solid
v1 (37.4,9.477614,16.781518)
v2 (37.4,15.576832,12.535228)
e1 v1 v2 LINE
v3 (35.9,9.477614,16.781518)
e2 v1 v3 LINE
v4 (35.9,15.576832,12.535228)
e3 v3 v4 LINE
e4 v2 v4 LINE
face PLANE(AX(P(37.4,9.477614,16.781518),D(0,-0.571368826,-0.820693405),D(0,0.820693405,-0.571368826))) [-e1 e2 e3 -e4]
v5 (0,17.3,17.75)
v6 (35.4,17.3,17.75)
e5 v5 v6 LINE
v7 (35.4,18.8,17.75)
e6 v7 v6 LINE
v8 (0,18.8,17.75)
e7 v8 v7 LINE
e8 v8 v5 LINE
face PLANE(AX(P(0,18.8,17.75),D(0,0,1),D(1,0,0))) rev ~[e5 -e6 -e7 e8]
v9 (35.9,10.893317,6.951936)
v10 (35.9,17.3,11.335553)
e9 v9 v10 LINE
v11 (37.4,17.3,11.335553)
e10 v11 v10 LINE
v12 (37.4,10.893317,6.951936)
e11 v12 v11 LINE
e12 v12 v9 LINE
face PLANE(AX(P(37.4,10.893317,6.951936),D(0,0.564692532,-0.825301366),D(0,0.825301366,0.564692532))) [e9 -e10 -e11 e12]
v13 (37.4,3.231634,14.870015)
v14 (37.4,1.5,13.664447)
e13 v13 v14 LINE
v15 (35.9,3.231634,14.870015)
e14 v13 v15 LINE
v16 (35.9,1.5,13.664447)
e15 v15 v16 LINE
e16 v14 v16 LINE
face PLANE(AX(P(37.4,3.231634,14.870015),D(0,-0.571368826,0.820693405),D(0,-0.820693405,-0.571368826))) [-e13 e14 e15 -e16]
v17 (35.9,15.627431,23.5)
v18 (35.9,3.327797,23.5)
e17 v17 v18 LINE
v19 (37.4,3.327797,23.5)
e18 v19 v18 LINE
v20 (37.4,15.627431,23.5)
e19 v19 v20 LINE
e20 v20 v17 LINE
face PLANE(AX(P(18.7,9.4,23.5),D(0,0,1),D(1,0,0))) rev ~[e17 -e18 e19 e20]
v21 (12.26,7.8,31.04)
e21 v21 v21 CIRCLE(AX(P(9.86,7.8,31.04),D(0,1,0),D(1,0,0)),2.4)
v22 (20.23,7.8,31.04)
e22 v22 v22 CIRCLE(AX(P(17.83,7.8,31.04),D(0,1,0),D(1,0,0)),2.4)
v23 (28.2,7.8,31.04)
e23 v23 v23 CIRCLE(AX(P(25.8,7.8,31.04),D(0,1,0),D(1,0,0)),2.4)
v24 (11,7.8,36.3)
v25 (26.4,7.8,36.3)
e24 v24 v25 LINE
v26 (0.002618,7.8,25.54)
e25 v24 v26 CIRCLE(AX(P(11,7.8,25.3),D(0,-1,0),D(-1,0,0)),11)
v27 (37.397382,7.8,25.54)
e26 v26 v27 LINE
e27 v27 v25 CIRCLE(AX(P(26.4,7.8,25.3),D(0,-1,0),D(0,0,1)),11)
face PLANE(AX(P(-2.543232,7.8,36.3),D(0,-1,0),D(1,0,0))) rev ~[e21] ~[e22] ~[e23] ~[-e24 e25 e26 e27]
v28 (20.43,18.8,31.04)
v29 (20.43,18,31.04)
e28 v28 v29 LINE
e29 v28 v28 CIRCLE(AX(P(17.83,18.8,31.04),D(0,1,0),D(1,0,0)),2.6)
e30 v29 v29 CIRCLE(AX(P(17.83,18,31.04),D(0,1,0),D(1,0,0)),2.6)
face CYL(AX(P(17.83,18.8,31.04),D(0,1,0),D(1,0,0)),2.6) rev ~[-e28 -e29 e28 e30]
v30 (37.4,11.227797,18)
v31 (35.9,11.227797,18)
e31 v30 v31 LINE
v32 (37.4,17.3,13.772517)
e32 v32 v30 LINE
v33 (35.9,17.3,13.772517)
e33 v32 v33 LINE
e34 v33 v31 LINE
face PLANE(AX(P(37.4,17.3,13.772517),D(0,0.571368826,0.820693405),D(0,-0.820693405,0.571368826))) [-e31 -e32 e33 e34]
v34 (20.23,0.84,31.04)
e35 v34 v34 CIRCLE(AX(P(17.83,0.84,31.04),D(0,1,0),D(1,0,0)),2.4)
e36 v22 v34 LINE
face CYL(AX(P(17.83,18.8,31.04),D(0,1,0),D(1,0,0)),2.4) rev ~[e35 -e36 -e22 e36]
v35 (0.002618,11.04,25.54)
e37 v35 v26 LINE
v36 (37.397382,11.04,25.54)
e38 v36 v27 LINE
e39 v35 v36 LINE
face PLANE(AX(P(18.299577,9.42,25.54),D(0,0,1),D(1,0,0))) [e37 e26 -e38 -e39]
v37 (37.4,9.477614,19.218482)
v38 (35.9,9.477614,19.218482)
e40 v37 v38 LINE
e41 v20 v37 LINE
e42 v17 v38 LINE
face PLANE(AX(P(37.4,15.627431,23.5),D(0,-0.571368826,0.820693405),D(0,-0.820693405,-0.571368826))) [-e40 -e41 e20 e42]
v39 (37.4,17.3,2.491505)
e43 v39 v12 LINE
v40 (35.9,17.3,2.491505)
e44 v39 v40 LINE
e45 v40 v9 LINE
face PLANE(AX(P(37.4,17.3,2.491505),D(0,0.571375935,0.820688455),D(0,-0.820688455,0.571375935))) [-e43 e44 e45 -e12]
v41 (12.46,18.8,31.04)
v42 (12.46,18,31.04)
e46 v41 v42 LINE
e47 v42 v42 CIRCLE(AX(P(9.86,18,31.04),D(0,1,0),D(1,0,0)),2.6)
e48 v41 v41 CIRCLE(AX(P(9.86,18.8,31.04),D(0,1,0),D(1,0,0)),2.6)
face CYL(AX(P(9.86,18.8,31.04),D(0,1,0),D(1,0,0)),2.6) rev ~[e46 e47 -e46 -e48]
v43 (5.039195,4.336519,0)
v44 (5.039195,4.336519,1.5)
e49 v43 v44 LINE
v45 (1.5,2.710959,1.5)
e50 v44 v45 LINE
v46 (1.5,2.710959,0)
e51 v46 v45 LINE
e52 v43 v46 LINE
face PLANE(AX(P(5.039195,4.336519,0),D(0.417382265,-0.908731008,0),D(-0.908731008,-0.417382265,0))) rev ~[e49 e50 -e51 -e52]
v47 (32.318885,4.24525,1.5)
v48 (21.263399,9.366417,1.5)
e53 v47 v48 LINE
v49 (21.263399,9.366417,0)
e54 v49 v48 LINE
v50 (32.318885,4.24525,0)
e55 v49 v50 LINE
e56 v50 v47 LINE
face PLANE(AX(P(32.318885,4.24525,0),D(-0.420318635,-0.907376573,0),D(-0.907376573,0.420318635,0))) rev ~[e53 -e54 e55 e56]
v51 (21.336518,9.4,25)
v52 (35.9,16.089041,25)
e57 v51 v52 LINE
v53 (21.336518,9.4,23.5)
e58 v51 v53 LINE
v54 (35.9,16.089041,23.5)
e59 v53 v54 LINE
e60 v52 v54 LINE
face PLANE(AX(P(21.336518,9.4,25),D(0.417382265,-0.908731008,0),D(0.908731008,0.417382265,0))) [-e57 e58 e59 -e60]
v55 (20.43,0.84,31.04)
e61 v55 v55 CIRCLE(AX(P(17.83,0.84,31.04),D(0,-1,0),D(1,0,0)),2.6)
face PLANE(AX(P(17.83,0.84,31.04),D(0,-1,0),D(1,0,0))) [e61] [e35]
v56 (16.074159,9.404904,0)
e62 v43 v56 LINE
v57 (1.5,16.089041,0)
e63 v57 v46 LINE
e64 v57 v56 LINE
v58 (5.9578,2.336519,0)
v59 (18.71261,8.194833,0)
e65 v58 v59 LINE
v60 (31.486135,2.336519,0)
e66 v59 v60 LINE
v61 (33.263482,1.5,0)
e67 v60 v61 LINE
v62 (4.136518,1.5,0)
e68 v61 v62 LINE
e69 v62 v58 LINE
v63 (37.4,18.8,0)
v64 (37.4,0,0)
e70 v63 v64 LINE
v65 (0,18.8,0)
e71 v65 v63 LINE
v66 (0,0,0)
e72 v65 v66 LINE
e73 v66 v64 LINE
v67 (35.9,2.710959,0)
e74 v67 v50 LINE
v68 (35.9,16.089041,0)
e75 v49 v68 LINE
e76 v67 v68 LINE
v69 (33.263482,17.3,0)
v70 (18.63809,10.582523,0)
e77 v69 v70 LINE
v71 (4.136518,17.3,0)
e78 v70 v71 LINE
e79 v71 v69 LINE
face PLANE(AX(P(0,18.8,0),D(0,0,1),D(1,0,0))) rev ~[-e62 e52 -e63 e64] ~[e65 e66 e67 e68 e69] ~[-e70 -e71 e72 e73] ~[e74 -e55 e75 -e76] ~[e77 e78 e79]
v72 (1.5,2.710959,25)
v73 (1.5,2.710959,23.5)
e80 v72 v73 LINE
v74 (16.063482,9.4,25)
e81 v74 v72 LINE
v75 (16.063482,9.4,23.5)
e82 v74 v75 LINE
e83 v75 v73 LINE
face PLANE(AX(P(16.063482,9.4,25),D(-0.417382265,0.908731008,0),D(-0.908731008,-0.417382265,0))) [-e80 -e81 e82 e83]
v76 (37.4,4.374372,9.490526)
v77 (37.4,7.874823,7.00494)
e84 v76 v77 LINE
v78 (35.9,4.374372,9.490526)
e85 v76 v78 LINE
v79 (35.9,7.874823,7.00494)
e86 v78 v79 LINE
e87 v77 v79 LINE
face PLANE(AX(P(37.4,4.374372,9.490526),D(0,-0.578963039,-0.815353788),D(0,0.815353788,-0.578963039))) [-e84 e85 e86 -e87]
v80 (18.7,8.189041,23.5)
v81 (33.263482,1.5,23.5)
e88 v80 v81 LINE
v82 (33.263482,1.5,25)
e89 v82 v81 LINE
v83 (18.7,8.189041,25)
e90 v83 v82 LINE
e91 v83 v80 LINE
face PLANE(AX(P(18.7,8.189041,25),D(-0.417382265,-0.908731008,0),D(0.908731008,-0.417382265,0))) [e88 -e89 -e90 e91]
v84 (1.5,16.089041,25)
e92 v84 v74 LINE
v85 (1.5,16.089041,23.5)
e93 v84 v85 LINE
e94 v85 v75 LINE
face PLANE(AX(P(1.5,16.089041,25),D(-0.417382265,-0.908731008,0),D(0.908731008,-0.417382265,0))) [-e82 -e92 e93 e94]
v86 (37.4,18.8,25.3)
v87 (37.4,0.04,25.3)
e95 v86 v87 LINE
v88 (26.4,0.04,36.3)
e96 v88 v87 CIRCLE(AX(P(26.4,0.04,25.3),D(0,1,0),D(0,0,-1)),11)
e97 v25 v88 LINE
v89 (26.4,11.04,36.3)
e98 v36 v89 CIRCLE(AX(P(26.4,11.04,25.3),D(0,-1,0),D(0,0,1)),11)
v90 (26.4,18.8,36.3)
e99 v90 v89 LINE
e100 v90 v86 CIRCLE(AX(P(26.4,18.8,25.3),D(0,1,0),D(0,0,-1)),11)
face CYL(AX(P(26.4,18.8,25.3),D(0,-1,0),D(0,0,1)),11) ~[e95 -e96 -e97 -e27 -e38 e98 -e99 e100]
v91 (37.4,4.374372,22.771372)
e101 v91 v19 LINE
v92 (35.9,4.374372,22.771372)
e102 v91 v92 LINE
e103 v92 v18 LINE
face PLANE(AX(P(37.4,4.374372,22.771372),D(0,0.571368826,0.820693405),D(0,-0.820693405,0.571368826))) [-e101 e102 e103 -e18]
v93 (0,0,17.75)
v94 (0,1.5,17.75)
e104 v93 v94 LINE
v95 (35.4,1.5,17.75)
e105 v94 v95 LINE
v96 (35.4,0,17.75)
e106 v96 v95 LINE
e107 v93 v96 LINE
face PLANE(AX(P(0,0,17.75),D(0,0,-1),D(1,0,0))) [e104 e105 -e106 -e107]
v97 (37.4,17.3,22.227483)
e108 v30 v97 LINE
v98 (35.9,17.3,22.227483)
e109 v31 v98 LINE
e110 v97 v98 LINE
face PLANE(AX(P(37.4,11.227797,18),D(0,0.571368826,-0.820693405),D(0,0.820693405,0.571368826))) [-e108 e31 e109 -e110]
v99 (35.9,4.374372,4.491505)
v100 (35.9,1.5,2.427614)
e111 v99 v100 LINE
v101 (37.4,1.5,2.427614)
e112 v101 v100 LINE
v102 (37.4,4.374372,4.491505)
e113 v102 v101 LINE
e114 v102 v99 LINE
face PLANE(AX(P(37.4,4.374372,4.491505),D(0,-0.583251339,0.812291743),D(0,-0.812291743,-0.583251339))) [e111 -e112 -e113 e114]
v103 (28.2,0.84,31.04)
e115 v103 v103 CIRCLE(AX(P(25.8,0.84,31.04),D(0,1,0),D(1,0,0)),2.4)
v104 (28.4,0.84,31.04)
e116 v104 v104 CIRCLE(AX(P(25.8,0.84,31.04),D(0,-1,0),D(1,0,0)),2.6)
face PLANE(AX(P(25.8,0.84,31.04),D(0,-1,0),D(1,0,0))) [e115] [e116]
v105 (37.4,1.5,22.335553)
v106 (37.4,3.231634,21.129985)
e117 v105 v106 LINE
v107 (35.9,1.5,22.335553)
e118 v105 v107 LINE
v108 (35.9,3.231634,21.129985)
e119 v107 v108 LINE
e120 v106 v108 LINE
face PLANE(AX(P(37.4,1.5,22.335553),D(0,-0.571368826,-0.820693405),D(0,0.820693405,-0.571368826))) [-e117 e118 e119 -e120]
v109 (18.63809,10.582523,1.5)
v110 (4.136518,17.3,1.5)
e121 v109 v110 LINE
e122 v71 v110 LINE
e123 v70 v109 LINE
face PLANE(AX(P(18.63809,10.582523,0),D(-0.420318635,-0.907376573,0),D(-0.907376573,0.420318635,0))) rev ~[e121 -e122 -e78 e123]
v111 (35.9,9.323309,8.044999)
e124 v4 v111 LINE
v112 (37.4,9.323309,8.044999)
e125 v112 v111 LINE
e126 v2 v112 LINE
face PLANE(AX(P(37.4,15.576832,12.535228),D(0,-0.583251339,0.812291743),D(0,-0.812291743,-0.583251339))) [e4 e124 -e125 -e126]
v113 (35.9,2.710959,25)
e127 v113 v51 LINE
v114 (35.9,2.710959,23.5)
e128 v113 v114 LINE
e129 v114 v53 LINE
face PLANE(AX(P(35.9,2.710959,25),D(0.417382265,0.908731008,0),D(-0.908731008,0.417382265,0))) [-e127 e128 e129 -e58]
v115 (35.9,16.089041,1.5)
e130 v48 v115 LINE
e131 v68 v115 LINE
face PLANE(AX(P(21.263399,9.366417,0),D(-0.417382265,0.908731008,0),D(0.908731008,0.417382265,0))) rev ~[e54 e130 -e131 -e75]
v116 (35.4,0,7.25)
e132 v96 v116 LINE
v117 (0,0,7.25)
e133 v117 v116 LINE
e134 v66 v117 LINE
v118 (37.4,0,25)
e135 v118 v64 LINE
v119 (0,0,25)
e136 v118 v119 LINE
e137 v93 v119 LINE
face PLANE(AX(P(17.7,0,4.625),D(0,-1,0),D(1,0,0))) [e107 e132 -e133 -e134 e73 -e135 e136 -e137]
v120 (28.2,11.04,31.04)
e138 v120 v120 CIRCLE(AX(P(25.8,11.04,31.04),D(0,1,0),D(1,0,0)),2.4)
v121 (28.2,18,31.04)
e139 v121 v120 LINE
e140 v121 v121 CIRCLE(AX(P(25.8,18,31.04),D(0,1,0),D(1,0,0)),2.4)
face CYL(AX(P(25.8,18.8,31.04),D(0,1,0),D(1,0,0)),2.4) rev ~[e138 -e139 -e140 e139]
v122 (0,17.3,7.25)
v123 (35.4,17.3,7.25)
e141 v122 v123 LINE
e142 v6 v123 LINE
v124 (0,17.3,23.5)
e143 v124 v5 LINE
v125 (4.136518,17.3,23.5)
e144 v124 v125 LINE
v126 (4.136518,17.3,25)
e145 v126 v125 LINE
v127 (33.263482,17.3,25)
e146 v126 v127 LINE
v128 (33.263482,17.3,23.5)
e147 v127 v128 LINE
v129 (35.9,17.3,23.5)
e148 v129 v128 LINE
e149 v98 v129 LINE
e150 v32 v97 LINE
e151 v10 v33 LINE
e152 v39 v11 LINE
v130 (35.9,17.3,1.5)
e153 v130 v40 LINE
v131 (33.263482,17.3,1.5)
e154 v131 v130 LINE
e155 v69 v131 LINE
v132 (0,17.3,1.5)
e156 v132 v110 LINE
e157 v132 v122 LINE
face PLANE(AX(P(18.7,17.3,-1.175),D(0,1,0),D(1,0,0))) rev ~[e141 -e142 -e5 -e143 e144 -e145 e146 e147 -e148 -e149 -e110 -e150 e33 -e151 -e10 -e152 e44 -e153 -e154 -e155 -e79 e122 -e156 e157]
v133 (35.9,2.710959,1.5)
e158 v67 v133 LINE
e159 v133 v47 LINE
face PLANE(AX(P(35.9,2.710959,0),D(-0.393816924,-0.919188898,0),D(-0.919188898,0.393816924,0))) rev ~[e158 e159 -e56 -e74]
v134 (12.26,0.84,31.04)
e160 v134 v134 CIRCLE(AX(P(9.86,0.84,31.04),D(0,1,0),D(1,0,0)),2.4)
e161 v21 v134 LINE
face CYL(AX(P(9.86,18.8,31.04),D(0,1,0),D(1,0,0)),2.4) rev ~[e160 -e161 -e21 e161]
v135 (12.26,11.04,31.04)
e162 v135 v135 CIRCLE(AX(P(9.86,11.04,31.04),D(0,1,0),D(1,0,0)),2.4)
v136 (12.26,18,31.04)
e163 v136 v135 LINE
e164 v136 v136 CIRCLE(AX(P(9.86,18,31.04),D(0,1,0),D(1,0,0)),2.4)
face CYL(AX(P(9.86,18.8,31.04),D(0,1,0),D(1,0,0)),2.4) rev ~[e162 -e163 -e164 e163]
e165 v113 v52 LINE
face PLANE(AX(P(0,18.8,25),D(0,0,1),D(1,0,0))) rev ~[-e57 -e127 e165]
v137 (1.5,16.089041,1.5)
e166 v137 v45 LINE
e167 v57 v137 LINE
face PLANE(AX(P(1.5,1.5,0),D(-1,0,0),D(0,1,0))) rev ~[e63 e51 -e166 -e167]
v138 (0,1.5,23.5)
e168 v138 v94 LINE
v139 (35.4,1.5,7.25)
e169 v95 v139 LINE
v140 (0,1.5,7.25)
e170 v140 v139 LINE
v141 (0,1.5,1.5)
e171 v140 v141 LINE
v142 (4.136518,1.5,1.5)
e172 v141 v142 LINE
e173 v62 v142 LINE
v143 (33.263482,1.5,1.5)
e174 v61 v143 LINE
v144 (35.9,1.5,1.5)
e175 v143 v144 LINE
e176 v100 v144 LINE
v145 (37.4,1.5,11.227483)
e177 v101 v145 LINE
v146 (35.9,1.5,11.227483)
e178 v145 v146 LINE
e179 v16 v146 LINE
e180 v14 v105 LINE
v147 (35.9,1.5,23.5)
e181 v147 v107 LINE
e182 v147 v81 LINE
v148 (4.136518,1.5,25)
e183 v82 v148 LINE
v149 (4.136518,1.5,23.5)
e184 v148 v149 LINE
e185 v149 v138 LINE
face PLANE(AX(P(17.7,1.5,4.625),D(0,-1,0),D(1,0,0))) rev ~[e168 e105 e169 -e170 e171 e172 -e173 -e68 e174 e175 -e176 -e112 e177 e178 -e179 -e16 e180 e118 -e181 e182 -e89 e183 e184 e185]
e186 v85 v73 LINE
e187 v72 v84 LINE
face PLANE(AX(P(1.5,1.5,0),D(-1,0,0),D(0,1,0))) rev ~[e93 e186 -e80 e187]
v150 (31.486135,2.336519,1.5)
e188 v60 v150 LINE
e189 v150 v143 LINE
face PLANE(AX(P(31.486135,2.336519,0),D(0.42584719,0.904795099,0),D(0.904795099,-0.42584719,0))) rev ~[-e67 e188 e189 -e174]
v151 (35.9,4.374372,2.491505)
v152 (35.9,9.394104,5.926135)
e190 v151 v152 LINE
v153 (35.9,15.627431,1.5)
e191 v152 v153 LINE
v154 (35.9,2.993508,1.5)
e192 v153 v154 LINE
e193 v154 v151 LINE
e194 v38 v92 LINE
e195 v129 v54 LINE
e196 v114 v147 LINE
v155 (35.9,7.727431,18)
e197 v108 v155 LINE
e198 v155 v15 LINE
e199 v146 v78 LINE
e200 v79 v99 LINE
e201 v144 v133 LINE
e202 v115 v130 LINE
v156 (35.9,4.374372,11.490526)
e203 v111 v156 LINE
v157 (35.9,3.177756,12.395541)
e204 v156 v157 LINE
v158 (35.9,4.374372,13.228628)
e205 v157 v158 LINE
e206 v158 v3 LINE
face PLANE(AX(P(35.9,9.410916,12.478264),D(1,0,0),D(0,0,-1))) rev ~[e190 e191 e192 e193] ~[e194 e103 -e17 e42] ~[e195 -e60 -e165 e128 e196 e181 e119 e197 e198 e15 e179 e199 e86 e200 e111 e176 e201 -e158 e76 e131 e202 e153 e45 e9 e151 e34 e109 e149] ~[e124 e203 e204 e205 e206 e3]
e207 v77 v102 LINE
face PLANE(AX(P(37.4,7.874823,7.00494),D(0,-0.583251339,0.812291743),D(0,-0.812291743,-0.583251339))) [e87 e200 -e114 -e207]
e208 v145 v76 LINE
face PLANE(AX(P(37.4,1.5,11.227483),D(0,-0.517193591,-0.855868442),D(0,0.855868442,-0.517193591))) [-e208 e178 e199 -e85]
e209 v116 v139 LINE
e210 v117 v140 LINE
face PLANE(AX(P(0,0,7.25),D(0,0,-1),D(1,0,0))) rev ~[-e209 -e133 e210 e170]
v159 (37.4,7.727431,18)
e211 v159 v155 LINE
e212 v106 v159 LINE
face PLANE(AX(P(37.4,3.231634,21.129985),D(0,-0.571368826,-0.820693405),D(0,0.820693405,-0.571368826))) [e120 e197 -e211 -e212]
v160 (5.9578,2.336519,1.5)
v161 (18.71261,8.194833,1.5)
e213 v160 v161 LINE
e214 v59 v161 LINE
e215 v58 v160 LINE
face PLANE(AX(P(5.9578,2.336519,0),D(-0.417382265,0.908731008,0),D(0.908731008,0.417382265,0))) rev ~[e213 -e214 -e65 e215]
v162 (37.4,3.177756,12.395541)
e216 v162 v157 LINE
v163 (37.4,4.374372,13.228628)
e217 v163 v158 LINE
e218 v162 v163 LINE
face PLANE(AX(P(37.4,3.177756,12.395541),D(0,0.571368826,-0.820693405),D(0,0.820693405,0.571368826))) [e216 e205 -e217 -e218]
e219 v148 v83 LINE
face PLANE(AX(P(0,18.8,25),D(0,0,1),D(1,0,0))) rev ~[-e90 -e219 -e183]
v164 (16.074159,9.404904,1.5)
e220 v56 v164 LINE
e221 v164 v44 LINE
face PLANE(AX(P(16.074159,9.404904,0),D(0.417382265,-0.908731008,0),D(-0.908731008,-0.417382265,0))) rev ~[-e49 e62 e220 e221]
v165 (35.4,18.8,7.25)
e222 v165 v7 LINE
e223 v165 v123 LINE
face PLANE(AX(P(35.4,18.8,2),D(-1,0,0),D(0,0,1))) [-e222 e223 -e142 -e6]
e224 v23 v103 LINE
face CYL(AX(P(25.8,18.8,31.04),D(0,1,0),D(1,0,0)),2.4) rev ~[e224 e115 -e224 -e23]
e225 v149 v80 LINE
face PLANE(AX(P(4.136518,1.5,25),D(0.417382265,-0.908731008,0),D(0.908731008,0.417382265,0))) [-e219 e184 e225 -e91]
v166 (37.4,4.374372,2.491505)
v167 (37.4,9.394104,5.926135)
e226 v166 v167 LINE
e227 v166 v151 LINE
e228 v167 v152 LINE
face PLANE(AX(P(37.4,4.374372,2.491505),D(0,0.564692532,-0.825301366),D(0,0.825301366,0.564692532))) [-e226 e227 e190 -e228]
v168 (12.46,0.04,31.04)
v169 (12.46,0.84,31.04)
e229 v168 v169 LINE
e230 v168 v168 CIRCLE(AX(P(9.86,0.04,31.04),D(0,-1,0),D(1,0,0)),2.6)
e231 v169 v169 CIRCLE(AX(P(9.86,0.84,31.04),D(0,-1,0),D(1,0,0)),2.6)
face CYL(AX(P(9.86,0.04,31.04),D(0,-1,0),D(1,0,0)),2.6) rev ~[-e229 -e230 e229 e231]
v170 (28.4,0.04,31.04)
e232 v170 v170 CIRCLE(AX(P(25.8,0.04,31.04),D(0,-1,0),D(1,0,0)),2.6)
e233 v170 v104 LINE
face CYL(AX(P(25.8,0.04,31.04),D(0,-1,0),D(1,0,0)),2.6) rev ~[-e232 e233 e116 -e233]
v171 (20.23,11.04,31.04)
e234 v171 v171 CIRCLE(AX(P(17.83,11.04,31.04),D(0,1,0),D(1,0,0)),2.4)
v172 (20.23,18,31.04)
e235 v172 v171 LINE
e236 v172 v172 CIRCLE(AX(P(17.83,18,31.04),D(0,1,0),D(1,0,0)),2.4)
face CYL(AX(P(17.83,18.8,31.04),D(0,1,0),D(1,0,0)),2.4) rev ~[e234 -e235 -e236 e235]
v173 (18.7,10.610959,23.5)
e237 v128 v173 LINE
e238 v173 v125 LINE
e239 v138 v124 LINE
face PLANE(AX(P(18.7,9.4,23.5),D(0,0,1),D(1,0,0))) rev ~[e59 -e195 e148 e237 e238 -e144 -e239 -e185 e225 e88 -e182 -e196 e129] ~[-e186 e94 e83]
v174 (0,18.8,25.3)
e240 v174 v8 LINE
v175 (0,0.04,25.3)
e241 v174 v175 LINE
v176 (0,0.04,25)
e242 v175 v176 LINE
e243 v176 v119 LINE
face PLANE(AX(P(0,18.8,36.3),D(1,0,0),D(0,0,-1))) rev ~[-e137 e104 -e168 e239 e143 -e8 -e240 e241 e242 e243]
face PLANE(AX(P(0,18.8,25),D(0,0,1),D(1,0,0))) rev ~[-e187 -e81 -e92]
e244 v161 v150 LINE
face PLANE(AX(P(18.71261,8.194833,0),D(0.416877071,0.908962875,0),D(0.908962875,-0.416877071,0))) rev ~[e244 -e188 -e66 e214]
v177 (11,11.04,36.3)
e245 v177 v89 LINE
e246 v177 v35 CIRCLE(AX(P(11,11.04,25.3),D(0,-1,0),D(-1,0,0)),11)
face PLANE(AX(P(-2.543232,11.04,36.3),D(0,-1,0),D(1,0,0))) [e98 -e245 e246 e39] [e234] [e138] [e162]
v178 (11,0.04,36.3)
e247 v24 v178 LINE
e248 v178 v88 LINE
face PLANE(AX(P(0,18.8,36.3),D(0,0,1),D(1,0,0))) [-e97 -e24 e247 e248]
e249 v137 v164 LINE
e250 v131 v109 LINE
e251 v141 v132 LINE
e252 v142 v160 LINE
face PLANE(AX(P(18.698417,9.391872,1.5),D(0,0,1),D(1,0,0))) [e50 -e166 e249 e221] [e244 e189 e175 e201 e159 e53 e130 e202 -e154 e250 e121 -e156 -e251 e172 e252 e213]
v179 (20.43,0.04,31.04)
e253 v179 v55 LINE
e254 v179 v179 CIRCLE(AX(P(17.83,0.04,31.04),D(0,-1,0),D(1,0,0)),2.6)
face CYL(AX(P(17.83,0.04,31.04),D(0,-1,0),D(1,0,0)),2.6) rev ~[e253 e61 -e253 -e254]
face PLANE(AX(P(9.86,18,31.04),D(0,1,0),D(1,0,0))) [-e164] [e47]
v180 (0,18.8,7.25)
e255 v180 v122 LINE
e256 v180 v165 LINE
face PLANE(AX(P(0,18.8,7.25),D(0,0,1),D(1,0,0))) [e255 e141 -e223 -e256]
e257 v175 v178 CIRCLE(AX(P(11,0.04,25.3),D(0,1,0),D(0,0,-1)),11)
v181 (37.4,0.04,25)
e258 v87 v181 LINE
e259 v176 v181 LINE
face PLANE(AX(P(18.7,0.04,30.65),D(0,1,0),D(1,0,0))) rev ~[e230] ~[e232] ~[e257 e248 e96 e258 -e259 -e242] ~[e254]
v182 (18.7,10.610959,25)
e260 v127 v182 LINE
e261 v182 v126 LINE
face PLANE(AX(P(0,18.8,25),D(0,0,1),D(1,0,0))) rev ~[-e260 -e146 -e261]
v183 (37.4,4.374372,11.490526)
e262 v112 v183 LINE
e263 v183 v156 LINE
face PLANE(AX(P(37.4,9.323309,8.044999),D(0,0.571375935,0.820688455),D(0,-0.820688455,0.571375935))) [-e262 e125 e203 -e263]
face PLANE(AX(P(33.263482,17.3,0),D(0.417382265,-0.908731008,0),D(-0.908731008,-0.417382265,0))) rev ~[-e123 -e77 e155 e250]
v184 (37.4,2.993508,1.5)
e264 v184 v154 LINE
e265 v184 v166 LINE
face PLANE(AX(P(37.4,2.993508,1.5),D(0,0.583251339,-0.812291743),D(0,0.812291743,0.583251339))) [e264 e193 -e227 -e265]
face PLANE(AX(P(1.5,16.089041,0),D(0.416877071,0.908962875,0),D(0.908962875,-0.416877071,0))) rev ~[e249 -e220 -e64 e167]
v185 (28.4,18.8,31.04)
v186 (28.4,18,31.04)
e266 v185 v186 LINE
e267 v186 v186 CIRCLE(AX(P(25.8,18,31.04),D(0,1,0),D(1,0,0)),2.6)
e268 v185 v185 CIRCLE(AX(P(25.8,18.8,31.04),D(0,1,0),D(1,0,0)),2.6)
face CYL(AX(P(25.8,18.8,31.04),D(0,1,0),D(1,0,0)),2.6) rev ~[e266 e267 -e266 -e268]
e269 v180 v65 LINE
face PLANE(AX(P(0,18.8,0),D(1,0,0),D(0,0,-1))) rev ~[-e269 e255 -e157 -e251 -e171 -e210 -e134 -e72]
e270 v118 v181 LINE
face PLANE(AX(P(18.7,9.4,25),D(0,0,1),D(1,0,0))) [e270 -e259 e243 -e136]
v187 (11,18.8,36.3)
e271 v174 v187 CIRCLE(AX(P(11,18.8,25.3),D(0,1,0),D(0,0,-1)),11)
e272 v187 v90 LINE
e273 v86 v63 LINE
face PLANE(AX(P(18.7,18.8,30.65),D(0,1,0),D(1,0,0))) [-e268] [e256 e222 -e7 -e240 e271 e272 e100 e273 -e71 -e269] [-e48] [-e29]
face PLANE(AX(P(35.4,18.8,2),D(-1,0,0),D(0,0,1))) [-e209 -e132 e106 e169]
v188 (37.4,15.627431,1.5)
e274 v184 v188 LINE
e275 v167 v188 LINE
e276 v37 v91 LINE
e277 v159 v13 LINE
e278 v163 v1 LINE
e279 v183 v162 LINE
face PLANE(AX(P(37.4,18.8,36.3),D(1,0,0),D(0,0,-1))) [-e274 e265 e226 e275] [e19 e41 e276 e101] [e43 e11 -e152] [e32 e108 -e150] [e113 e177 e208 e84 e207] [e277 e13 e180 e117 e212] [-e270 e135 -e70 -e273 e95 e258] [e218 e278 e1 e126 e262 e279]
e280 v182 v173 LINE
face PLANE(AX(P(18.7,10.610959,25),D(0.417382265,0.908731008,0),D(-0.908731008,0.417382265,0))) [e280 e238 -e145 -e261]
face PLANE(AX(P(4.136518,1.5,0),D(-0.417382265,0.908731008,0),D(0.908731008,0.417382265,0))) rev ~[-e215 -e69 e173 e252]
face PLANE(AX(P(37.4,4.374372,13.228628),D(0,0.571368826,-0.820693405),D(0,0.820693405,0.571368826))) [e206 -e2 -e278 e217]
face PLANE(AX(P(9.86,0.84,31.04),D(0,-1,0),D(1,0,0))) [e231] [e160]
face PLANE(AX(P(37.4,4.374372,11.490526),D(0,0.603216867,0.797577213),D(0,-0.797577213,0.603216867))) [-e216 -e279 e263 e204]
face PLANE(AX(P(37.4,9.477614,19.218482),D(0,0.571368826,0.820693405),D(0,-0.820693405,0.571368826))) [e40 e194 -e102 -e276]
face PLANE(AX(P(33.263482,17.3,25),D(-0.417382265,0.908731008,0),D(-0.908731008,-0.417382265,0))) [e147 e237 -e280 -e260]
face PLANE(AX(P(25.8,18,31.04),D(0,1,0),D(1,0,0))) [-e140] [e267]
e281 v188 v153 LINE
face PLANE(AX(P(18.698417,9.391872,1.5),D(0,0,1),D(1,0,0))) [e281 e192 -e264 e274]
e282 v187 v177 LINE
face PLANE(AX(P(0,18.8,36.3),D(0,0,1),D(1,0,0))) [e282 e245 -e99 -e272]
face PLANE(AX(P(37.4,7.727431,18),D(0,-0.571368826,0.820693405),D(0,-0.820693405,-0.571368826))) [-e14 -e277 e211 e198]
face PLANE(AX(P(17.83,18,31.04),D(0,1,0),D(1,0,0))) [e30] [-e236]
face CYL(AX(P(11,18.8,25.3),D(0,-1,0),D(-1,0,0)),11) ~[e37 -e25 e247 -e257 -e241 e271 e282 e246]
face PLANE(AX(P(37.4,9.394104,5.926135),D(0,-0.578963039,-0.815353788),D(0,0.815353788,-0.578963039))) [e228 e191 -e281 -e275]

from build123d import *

# Parameters (mm, degrees)
SKETCH1_W            = 37.4
SKETCH1_H            = 18.8
BOSS_EXTRUDE1_DEPTH  = 2
SKETCH2_W            = 33.4
SKETCH2_H            = 15.8
BOSS_EXTRUDE2_DEPTH  = 23
SKETCH4_W            = 22
SKETCH4_H            = 15.8
CUT_EXTRUDE3_DEPTH   = 5550
SKETCH6_W            = 34.4
SKETCH6_H            = 15.8
CUT_EXTRUDE4_DEPTH   = 5550
CUT_EXTRUDE5_DEPTH   = 5550
BOSS_EXTRUDE3_DEPTH  = 1.5
BOSS_EXTRUDE4_DEPTH  = 1.5
BOSS_EXTRUDE5_DEPTH  = 1.5
SKETCH11_W           = 35.4
SKETCH11_H           = 5.25
BOSS_EXTRUDE6_DEPTH  = 1.5
SKETCH12_W           = 35.4
SKETCH12_H           = 7.25
BOSS_EXTRUDE7_DEPTH  = 1.5
SKETCH13_W           = 35.4
SKETCH13_H           = 5.25
BOSS_EXTRUDE8_DEPTH  = 1.5
SKETCH14_W           = 35.4
SKETCH14_H           = 5.25
BOSS_EXTRUDE9_DEPTH  = 1.5
SKETCH15_W           = 37.4
SKETCH15_H           = 2.35
BOSS_EXTRUDE10_DEPTH = 1.5
SKETCH16_W           = 37.4
SKETCH16_H           = 2.35
CUT_EXTRUDE6_DEPTH   = 10
SKETCH17_W           = 37.4
SKETCH17_H           = 11.3
SKETCH17_R           = 2.4
BOSS_EXTRUDE11_DEPTH = 18.76
FILLET2_R            = 11
FILLET3_R            = 11
SKETCH21_W           = 41.68561835
SKETCH21_H           = 3.24
CUT_EXTRUDE7_DEPTH   = 10.76
SKETCH22_R           = 2.6
CUT_EXTRUDE8_DEPTH   = 0.8
SKETCH23_R           = 2.6
CUT_EXTRUDE9_DEPTH   = 0.8


with BuildPart() as part:
    # Sketch1 → Boss-Extrude1 (new body)
    with BuildSketch(Plane.XY):
        with Locations((18.7, 9.4)):
            Rectangle(SKETCH1_W, SKETCH1_H)
    extrude(amount=BOSS_EXTRUDE1_DEPTH)

    # Sketch2 → Boss-Extrude2 (add)
    with BuildSketch(Plane.XY.offset(2)):
        Polygon((0, 18.8), (37.4, 18.8), (37.4, 17.3), (37.4, 0), (0, 0), (0, 16.8), align=None)
        with Locations((18.7, 9.4)):
            Rectangle(SKETCH2_W, SKETCH2_H, mode=Mode.SUBTRACT)
    extrude(amount=BOSS_EXTRUDE2_DEPTH)

    # Sketch4 → Cut-Extrude3 (cut)
    with BuildSketch(Plane.ZY):
        with Locations((12.5, 9.4)):
            Rectangle(SKETCH4_W, SKETCH4_H)
    extrude(amount=-CUT_EXTRUDE3_DEPTH, mode=Mode.SUBTRACT)

    # Sketch6 → Cut-Extrude4 (cut)
    with BuildSketch(Plane(origin=(0, 0, 0), x_dir=(-1, 0, 0), z_dir=(0, 0, -1))):
        with Locations((-18.7, 9.4)):
            Rectangle(SKETCH6_W, SKETCH6_H)
    extrude(amount=-CUT_EXTRUDE4_DEPTH, mode=Mode.SUBTRACT)

    # Sketch7 → Cut-Extrude5 (cut)
    with BuildSketch(Plane(origin=(0, 18.8, 0), x_dir=(1, 0, 0), z_dir=(0, 1, 0))):
        Polygon((1.635040334, -2), (35.4, -2), (35.4, -23), (1.635040334, -23), (0, -23), (0, -2), align=None)
    extrude(amount=-CUT_EXTRUDE5_DEPTH, mode=Mode.SUBTRACT)

    # Sketch8 → Boss-Extrude3 (add)
    with BuildSketch(Plane(origin=(0, 0, 0), x_dir=(-1, 0, 0), z_dir=(0, 0, -1))):
        Polygon((-35.9, 16.089041374), (-35.9, 17.3), (-33.263482485, 17.3), (-18.638089895, 10.582523171), (-4.136517515, 17.3), (-1.5, 17.3), (-1.5, 16.089041374), (-16.074159281, 9.404903878), (-5.039195107, 4.33651917), (-1.5, 2.710958626), (-1.5, 1.5), (-4.136517515, 1.5), (-5.957799758, 2.33651917), (-18.712609683, 8.194833031), (-31.486134971, 2.33651917), (-33.263482485, 1.5), (-35.9, 1.5), (-35.9, 2.710958626), (-32.318884833, 4.245250178), (-21.26339944, 9.366416698), align=None)
    extrude(amount=-BOSS_EXTRUDE3_DEPTH)

    # Sketch9 → Boss-Extrude4 (add)
    with BuildSketch(Plane.XY.offset(25)):
        Polygon((21.336517515, 9.4), (35.9, 16.089041374), (35.9, 17.3), (33.263482485, 17.3), (18.7, 10.610958626), (4.136517515, 17.3), (1.5, 17.3), (1.5, 16.089041374), (16.063482485, 9.4), (1.5, 2.710958626), (1.5, 1.5), (4.136517515, 1.5), (18.7, 8.189041374), (33.263482485, 1.5), (35.9, 1.5), (35.9, 2.710958626), align=None)
    extrude(amount=-BOSS_EXTRUDE4_DEPTH)

    # Sketch10 → Boss-Extrude5 (add)
    with BuildSketch(Plane(origin=(37.4, 0, 0), x_dir=(0, 0, -1), z_dir=(1, 0, 0))):
        Polygon((-23.5, 17.3), (-23.5, 15.627431355), (-19.218481828, 9.477614344), (-22.771372102, 4.374371951), (-23.5, 3.327797334), (-23.5, 1.5), (-22.335553475, 1.5), (-21.129985293, 3.231634299), (-18, 7.727431355), (-14.870014707, 3.231634299), (-13.664446525, 1.5), (-12.445964697, 1.5), (-11.227482869, 1.5), (-9.490525788, 4.374371951), (-7.004939959, 7.874823075), (-4.491504582, 4.374371951), (-2.427613988, 1.5), (-1.5, 1.5), (-1.5, 2.993507593), (-2.491504582, 4.374371951), (-5.926135142, 9.394104162), (-1.5, 15.627431355), (-1.5, 17.3), (-2.491504582, 17.3), (-6.951935611, 10.893317416), (-11.335553475, 17.3), (-13.772517131, 17.3), (-18, 11.227797334), (-22.227482869, 17.3), align=None)
        Polygon((-11.490525788, 4.374371951), (-12.395540567, 3.177755602), (-13.228627898, 4.374371951), (-16.781518172, 9.477614344), (-12.535227515, 15.576831834), (-8.044999313, 9.323309465), align=None, mode=Mode.SUBTRACT)
    extrude(amount=-BOSS_EXTRUDE5_DEPTH)

    # Sketch11 → Boss-Extrude6 (add)
    with BuildSketch(Plane(origin=(0, 18.8, 0), x_dir=(1, 0, 0), z_dir=(0, 1, 0))):
        with Locations((17.7, -4.625)):
            Rectangle(SKETCH11_W, SKETCH11_H)
    extrude(amount=-BOSS_EXTRUDE6_DEPTH)

    # Sketch12 → Boss-Extrude7 (add)
    with BuildSketch(Plane(origin=(0, 18.8, 0), x_dir=(1, 0, 0), z_dir=(0, 1, 0))):
        with Locations((17.7, -21.375)):
            Rectangle(SKETCH12_W, SKETCH12_H)
    extrude(amount=-BOSS_EXTRUDE7_DEPTH)

    # Sketch13 → Boss-Extrude8 (add)
    with BuildSketch(Plane.XZ):
        with Locations((17.7, 20.375)):
            Rectangle(SKETCH13_W, SKETCH13_H)
    extrude(amount=-BOSS_EXTRUDE8_DEPTH)

    # Sketch14 → Boss-Extrude9 (add)
    with BuildSketch(Plane.XZ):
        with Locations((17.7, 4.625)):
            Rectangle(SKETCH14_W, SKETCH14_H)
    extrude(amount=-BOSS_EXTRUDE9_DEPTH)

    # Sketch15 → Boss-Extrude10 (add)
    with BuildSketch(Plane(origin=(0, 18.8, 0), x_dir=(1, 0, 0), z_dir=(0, 1, 0))):
        with Locations((18.7, 1.175)):
            Rectangle(SKETCH15_W, SKETCH15_H)
    extrude(amount=-BOSS_EXTRUDE10_DEPTH)

    # Sketch16 → Cut-Extrude6 (cut)
    with BuildSketch(Plane(origin=(0, 18.8, 0), x_dir=(1, 0, 0), z_dir=(0, 1, 0))):
        with Locations((18.7, 1.175)):
            Rectangle(SKETCH16_W, SKETCH16_H)
    extrude(amount=-CUT_EXTRUDE6_DEPTH, mode=Mode.SUBTRACT)

    # Sketch17 → Boss-Extrude11 (add)
    with BuildSketch(Plane(origin=(0, 18.8, 0), x_dir=(1, 0, 0), z_dir=(0, 1, 0))):
        with Locations((18.7, -30.65)):
            Rectangle(SKETCH17_W, SKETCH17_H)
        with Locations((25.8, -31.04)):
            Circle(SKETCH17_R, mode=Mode.SUBTRACT)
        with Locations((17.83, -31.04)):
            Circle(SKETCH17_R, mode=Mode.SUBTRACT)
        with Locations((9.86, -31.04)):
            Circle(SKETCH17_R, mode=Mode.SUBTRACT)
    extrude(amount=-BOSS_EXTRUDE11_DEPTH)

    # Fillet2
    fillet2_edges = [part.edges().sort_by_distance(p)[0] for p in [
        (0, 9.42, 36.3),
    ]]
    fillet(fillet2_edges, radius=FILLET2_R)

    # Fillet3
    fillet3_edges = [part.edges().sort_by_distance(p)[0] for p in [
        (37.4, 9.42, 36.3),
    ]]
    fillet(fillet3_edges, radius=FILLET3_R)

    # Sketch21 → Cut-Extrude7 (cut)
    with BuildSketch(Plane.XY.offset(36.3)):
        with Locations((18.29957708, 9.42)):
            Rectangle(SKETCH21_W, SKETCH21_H)
    extrude(amount=-CUT_EXTRUDE7_DEPTH, mode=Mode.SUBTRACT)

    # Sketch22 → Cut-Extrude8 (cut)
    with BuildSketch(Plane.XZ.offset(-0.04)):
        with Locations((9.86, 31.04)):
            Circle(SKETCH22_R)
        with Locations((17.83, 31.04)):
            Circle(SKETCH22_R)
        with Locations((25.8, 31.04)):
            Circle(SKETCH22_R)
    extrude(amount=-CUT_EXTRUDE8_DEPTH, mode=Mode.SUBTRACT)

    # Sketch23 → Cut-Extrude9 (cut)
    with BuildSketch(Plane(origin=(0, 18.8, 0), x_dir=(1, 0, 0), z_dir=(0, 1, 0))):
        with Locations((9.86, -31.04)):
            Circle(SKETCH23_R)
        with Locations((17.83, -31.04)):
            Circle(SKETCH23_R)
        with Locations((25.8, -31.04)):
            Circle(SKETCH23_R)
    extrude(amount=-CUT_EXTRUDE9_DEPTH, mode=Mode.SUBTRACT)


solid = part.part
